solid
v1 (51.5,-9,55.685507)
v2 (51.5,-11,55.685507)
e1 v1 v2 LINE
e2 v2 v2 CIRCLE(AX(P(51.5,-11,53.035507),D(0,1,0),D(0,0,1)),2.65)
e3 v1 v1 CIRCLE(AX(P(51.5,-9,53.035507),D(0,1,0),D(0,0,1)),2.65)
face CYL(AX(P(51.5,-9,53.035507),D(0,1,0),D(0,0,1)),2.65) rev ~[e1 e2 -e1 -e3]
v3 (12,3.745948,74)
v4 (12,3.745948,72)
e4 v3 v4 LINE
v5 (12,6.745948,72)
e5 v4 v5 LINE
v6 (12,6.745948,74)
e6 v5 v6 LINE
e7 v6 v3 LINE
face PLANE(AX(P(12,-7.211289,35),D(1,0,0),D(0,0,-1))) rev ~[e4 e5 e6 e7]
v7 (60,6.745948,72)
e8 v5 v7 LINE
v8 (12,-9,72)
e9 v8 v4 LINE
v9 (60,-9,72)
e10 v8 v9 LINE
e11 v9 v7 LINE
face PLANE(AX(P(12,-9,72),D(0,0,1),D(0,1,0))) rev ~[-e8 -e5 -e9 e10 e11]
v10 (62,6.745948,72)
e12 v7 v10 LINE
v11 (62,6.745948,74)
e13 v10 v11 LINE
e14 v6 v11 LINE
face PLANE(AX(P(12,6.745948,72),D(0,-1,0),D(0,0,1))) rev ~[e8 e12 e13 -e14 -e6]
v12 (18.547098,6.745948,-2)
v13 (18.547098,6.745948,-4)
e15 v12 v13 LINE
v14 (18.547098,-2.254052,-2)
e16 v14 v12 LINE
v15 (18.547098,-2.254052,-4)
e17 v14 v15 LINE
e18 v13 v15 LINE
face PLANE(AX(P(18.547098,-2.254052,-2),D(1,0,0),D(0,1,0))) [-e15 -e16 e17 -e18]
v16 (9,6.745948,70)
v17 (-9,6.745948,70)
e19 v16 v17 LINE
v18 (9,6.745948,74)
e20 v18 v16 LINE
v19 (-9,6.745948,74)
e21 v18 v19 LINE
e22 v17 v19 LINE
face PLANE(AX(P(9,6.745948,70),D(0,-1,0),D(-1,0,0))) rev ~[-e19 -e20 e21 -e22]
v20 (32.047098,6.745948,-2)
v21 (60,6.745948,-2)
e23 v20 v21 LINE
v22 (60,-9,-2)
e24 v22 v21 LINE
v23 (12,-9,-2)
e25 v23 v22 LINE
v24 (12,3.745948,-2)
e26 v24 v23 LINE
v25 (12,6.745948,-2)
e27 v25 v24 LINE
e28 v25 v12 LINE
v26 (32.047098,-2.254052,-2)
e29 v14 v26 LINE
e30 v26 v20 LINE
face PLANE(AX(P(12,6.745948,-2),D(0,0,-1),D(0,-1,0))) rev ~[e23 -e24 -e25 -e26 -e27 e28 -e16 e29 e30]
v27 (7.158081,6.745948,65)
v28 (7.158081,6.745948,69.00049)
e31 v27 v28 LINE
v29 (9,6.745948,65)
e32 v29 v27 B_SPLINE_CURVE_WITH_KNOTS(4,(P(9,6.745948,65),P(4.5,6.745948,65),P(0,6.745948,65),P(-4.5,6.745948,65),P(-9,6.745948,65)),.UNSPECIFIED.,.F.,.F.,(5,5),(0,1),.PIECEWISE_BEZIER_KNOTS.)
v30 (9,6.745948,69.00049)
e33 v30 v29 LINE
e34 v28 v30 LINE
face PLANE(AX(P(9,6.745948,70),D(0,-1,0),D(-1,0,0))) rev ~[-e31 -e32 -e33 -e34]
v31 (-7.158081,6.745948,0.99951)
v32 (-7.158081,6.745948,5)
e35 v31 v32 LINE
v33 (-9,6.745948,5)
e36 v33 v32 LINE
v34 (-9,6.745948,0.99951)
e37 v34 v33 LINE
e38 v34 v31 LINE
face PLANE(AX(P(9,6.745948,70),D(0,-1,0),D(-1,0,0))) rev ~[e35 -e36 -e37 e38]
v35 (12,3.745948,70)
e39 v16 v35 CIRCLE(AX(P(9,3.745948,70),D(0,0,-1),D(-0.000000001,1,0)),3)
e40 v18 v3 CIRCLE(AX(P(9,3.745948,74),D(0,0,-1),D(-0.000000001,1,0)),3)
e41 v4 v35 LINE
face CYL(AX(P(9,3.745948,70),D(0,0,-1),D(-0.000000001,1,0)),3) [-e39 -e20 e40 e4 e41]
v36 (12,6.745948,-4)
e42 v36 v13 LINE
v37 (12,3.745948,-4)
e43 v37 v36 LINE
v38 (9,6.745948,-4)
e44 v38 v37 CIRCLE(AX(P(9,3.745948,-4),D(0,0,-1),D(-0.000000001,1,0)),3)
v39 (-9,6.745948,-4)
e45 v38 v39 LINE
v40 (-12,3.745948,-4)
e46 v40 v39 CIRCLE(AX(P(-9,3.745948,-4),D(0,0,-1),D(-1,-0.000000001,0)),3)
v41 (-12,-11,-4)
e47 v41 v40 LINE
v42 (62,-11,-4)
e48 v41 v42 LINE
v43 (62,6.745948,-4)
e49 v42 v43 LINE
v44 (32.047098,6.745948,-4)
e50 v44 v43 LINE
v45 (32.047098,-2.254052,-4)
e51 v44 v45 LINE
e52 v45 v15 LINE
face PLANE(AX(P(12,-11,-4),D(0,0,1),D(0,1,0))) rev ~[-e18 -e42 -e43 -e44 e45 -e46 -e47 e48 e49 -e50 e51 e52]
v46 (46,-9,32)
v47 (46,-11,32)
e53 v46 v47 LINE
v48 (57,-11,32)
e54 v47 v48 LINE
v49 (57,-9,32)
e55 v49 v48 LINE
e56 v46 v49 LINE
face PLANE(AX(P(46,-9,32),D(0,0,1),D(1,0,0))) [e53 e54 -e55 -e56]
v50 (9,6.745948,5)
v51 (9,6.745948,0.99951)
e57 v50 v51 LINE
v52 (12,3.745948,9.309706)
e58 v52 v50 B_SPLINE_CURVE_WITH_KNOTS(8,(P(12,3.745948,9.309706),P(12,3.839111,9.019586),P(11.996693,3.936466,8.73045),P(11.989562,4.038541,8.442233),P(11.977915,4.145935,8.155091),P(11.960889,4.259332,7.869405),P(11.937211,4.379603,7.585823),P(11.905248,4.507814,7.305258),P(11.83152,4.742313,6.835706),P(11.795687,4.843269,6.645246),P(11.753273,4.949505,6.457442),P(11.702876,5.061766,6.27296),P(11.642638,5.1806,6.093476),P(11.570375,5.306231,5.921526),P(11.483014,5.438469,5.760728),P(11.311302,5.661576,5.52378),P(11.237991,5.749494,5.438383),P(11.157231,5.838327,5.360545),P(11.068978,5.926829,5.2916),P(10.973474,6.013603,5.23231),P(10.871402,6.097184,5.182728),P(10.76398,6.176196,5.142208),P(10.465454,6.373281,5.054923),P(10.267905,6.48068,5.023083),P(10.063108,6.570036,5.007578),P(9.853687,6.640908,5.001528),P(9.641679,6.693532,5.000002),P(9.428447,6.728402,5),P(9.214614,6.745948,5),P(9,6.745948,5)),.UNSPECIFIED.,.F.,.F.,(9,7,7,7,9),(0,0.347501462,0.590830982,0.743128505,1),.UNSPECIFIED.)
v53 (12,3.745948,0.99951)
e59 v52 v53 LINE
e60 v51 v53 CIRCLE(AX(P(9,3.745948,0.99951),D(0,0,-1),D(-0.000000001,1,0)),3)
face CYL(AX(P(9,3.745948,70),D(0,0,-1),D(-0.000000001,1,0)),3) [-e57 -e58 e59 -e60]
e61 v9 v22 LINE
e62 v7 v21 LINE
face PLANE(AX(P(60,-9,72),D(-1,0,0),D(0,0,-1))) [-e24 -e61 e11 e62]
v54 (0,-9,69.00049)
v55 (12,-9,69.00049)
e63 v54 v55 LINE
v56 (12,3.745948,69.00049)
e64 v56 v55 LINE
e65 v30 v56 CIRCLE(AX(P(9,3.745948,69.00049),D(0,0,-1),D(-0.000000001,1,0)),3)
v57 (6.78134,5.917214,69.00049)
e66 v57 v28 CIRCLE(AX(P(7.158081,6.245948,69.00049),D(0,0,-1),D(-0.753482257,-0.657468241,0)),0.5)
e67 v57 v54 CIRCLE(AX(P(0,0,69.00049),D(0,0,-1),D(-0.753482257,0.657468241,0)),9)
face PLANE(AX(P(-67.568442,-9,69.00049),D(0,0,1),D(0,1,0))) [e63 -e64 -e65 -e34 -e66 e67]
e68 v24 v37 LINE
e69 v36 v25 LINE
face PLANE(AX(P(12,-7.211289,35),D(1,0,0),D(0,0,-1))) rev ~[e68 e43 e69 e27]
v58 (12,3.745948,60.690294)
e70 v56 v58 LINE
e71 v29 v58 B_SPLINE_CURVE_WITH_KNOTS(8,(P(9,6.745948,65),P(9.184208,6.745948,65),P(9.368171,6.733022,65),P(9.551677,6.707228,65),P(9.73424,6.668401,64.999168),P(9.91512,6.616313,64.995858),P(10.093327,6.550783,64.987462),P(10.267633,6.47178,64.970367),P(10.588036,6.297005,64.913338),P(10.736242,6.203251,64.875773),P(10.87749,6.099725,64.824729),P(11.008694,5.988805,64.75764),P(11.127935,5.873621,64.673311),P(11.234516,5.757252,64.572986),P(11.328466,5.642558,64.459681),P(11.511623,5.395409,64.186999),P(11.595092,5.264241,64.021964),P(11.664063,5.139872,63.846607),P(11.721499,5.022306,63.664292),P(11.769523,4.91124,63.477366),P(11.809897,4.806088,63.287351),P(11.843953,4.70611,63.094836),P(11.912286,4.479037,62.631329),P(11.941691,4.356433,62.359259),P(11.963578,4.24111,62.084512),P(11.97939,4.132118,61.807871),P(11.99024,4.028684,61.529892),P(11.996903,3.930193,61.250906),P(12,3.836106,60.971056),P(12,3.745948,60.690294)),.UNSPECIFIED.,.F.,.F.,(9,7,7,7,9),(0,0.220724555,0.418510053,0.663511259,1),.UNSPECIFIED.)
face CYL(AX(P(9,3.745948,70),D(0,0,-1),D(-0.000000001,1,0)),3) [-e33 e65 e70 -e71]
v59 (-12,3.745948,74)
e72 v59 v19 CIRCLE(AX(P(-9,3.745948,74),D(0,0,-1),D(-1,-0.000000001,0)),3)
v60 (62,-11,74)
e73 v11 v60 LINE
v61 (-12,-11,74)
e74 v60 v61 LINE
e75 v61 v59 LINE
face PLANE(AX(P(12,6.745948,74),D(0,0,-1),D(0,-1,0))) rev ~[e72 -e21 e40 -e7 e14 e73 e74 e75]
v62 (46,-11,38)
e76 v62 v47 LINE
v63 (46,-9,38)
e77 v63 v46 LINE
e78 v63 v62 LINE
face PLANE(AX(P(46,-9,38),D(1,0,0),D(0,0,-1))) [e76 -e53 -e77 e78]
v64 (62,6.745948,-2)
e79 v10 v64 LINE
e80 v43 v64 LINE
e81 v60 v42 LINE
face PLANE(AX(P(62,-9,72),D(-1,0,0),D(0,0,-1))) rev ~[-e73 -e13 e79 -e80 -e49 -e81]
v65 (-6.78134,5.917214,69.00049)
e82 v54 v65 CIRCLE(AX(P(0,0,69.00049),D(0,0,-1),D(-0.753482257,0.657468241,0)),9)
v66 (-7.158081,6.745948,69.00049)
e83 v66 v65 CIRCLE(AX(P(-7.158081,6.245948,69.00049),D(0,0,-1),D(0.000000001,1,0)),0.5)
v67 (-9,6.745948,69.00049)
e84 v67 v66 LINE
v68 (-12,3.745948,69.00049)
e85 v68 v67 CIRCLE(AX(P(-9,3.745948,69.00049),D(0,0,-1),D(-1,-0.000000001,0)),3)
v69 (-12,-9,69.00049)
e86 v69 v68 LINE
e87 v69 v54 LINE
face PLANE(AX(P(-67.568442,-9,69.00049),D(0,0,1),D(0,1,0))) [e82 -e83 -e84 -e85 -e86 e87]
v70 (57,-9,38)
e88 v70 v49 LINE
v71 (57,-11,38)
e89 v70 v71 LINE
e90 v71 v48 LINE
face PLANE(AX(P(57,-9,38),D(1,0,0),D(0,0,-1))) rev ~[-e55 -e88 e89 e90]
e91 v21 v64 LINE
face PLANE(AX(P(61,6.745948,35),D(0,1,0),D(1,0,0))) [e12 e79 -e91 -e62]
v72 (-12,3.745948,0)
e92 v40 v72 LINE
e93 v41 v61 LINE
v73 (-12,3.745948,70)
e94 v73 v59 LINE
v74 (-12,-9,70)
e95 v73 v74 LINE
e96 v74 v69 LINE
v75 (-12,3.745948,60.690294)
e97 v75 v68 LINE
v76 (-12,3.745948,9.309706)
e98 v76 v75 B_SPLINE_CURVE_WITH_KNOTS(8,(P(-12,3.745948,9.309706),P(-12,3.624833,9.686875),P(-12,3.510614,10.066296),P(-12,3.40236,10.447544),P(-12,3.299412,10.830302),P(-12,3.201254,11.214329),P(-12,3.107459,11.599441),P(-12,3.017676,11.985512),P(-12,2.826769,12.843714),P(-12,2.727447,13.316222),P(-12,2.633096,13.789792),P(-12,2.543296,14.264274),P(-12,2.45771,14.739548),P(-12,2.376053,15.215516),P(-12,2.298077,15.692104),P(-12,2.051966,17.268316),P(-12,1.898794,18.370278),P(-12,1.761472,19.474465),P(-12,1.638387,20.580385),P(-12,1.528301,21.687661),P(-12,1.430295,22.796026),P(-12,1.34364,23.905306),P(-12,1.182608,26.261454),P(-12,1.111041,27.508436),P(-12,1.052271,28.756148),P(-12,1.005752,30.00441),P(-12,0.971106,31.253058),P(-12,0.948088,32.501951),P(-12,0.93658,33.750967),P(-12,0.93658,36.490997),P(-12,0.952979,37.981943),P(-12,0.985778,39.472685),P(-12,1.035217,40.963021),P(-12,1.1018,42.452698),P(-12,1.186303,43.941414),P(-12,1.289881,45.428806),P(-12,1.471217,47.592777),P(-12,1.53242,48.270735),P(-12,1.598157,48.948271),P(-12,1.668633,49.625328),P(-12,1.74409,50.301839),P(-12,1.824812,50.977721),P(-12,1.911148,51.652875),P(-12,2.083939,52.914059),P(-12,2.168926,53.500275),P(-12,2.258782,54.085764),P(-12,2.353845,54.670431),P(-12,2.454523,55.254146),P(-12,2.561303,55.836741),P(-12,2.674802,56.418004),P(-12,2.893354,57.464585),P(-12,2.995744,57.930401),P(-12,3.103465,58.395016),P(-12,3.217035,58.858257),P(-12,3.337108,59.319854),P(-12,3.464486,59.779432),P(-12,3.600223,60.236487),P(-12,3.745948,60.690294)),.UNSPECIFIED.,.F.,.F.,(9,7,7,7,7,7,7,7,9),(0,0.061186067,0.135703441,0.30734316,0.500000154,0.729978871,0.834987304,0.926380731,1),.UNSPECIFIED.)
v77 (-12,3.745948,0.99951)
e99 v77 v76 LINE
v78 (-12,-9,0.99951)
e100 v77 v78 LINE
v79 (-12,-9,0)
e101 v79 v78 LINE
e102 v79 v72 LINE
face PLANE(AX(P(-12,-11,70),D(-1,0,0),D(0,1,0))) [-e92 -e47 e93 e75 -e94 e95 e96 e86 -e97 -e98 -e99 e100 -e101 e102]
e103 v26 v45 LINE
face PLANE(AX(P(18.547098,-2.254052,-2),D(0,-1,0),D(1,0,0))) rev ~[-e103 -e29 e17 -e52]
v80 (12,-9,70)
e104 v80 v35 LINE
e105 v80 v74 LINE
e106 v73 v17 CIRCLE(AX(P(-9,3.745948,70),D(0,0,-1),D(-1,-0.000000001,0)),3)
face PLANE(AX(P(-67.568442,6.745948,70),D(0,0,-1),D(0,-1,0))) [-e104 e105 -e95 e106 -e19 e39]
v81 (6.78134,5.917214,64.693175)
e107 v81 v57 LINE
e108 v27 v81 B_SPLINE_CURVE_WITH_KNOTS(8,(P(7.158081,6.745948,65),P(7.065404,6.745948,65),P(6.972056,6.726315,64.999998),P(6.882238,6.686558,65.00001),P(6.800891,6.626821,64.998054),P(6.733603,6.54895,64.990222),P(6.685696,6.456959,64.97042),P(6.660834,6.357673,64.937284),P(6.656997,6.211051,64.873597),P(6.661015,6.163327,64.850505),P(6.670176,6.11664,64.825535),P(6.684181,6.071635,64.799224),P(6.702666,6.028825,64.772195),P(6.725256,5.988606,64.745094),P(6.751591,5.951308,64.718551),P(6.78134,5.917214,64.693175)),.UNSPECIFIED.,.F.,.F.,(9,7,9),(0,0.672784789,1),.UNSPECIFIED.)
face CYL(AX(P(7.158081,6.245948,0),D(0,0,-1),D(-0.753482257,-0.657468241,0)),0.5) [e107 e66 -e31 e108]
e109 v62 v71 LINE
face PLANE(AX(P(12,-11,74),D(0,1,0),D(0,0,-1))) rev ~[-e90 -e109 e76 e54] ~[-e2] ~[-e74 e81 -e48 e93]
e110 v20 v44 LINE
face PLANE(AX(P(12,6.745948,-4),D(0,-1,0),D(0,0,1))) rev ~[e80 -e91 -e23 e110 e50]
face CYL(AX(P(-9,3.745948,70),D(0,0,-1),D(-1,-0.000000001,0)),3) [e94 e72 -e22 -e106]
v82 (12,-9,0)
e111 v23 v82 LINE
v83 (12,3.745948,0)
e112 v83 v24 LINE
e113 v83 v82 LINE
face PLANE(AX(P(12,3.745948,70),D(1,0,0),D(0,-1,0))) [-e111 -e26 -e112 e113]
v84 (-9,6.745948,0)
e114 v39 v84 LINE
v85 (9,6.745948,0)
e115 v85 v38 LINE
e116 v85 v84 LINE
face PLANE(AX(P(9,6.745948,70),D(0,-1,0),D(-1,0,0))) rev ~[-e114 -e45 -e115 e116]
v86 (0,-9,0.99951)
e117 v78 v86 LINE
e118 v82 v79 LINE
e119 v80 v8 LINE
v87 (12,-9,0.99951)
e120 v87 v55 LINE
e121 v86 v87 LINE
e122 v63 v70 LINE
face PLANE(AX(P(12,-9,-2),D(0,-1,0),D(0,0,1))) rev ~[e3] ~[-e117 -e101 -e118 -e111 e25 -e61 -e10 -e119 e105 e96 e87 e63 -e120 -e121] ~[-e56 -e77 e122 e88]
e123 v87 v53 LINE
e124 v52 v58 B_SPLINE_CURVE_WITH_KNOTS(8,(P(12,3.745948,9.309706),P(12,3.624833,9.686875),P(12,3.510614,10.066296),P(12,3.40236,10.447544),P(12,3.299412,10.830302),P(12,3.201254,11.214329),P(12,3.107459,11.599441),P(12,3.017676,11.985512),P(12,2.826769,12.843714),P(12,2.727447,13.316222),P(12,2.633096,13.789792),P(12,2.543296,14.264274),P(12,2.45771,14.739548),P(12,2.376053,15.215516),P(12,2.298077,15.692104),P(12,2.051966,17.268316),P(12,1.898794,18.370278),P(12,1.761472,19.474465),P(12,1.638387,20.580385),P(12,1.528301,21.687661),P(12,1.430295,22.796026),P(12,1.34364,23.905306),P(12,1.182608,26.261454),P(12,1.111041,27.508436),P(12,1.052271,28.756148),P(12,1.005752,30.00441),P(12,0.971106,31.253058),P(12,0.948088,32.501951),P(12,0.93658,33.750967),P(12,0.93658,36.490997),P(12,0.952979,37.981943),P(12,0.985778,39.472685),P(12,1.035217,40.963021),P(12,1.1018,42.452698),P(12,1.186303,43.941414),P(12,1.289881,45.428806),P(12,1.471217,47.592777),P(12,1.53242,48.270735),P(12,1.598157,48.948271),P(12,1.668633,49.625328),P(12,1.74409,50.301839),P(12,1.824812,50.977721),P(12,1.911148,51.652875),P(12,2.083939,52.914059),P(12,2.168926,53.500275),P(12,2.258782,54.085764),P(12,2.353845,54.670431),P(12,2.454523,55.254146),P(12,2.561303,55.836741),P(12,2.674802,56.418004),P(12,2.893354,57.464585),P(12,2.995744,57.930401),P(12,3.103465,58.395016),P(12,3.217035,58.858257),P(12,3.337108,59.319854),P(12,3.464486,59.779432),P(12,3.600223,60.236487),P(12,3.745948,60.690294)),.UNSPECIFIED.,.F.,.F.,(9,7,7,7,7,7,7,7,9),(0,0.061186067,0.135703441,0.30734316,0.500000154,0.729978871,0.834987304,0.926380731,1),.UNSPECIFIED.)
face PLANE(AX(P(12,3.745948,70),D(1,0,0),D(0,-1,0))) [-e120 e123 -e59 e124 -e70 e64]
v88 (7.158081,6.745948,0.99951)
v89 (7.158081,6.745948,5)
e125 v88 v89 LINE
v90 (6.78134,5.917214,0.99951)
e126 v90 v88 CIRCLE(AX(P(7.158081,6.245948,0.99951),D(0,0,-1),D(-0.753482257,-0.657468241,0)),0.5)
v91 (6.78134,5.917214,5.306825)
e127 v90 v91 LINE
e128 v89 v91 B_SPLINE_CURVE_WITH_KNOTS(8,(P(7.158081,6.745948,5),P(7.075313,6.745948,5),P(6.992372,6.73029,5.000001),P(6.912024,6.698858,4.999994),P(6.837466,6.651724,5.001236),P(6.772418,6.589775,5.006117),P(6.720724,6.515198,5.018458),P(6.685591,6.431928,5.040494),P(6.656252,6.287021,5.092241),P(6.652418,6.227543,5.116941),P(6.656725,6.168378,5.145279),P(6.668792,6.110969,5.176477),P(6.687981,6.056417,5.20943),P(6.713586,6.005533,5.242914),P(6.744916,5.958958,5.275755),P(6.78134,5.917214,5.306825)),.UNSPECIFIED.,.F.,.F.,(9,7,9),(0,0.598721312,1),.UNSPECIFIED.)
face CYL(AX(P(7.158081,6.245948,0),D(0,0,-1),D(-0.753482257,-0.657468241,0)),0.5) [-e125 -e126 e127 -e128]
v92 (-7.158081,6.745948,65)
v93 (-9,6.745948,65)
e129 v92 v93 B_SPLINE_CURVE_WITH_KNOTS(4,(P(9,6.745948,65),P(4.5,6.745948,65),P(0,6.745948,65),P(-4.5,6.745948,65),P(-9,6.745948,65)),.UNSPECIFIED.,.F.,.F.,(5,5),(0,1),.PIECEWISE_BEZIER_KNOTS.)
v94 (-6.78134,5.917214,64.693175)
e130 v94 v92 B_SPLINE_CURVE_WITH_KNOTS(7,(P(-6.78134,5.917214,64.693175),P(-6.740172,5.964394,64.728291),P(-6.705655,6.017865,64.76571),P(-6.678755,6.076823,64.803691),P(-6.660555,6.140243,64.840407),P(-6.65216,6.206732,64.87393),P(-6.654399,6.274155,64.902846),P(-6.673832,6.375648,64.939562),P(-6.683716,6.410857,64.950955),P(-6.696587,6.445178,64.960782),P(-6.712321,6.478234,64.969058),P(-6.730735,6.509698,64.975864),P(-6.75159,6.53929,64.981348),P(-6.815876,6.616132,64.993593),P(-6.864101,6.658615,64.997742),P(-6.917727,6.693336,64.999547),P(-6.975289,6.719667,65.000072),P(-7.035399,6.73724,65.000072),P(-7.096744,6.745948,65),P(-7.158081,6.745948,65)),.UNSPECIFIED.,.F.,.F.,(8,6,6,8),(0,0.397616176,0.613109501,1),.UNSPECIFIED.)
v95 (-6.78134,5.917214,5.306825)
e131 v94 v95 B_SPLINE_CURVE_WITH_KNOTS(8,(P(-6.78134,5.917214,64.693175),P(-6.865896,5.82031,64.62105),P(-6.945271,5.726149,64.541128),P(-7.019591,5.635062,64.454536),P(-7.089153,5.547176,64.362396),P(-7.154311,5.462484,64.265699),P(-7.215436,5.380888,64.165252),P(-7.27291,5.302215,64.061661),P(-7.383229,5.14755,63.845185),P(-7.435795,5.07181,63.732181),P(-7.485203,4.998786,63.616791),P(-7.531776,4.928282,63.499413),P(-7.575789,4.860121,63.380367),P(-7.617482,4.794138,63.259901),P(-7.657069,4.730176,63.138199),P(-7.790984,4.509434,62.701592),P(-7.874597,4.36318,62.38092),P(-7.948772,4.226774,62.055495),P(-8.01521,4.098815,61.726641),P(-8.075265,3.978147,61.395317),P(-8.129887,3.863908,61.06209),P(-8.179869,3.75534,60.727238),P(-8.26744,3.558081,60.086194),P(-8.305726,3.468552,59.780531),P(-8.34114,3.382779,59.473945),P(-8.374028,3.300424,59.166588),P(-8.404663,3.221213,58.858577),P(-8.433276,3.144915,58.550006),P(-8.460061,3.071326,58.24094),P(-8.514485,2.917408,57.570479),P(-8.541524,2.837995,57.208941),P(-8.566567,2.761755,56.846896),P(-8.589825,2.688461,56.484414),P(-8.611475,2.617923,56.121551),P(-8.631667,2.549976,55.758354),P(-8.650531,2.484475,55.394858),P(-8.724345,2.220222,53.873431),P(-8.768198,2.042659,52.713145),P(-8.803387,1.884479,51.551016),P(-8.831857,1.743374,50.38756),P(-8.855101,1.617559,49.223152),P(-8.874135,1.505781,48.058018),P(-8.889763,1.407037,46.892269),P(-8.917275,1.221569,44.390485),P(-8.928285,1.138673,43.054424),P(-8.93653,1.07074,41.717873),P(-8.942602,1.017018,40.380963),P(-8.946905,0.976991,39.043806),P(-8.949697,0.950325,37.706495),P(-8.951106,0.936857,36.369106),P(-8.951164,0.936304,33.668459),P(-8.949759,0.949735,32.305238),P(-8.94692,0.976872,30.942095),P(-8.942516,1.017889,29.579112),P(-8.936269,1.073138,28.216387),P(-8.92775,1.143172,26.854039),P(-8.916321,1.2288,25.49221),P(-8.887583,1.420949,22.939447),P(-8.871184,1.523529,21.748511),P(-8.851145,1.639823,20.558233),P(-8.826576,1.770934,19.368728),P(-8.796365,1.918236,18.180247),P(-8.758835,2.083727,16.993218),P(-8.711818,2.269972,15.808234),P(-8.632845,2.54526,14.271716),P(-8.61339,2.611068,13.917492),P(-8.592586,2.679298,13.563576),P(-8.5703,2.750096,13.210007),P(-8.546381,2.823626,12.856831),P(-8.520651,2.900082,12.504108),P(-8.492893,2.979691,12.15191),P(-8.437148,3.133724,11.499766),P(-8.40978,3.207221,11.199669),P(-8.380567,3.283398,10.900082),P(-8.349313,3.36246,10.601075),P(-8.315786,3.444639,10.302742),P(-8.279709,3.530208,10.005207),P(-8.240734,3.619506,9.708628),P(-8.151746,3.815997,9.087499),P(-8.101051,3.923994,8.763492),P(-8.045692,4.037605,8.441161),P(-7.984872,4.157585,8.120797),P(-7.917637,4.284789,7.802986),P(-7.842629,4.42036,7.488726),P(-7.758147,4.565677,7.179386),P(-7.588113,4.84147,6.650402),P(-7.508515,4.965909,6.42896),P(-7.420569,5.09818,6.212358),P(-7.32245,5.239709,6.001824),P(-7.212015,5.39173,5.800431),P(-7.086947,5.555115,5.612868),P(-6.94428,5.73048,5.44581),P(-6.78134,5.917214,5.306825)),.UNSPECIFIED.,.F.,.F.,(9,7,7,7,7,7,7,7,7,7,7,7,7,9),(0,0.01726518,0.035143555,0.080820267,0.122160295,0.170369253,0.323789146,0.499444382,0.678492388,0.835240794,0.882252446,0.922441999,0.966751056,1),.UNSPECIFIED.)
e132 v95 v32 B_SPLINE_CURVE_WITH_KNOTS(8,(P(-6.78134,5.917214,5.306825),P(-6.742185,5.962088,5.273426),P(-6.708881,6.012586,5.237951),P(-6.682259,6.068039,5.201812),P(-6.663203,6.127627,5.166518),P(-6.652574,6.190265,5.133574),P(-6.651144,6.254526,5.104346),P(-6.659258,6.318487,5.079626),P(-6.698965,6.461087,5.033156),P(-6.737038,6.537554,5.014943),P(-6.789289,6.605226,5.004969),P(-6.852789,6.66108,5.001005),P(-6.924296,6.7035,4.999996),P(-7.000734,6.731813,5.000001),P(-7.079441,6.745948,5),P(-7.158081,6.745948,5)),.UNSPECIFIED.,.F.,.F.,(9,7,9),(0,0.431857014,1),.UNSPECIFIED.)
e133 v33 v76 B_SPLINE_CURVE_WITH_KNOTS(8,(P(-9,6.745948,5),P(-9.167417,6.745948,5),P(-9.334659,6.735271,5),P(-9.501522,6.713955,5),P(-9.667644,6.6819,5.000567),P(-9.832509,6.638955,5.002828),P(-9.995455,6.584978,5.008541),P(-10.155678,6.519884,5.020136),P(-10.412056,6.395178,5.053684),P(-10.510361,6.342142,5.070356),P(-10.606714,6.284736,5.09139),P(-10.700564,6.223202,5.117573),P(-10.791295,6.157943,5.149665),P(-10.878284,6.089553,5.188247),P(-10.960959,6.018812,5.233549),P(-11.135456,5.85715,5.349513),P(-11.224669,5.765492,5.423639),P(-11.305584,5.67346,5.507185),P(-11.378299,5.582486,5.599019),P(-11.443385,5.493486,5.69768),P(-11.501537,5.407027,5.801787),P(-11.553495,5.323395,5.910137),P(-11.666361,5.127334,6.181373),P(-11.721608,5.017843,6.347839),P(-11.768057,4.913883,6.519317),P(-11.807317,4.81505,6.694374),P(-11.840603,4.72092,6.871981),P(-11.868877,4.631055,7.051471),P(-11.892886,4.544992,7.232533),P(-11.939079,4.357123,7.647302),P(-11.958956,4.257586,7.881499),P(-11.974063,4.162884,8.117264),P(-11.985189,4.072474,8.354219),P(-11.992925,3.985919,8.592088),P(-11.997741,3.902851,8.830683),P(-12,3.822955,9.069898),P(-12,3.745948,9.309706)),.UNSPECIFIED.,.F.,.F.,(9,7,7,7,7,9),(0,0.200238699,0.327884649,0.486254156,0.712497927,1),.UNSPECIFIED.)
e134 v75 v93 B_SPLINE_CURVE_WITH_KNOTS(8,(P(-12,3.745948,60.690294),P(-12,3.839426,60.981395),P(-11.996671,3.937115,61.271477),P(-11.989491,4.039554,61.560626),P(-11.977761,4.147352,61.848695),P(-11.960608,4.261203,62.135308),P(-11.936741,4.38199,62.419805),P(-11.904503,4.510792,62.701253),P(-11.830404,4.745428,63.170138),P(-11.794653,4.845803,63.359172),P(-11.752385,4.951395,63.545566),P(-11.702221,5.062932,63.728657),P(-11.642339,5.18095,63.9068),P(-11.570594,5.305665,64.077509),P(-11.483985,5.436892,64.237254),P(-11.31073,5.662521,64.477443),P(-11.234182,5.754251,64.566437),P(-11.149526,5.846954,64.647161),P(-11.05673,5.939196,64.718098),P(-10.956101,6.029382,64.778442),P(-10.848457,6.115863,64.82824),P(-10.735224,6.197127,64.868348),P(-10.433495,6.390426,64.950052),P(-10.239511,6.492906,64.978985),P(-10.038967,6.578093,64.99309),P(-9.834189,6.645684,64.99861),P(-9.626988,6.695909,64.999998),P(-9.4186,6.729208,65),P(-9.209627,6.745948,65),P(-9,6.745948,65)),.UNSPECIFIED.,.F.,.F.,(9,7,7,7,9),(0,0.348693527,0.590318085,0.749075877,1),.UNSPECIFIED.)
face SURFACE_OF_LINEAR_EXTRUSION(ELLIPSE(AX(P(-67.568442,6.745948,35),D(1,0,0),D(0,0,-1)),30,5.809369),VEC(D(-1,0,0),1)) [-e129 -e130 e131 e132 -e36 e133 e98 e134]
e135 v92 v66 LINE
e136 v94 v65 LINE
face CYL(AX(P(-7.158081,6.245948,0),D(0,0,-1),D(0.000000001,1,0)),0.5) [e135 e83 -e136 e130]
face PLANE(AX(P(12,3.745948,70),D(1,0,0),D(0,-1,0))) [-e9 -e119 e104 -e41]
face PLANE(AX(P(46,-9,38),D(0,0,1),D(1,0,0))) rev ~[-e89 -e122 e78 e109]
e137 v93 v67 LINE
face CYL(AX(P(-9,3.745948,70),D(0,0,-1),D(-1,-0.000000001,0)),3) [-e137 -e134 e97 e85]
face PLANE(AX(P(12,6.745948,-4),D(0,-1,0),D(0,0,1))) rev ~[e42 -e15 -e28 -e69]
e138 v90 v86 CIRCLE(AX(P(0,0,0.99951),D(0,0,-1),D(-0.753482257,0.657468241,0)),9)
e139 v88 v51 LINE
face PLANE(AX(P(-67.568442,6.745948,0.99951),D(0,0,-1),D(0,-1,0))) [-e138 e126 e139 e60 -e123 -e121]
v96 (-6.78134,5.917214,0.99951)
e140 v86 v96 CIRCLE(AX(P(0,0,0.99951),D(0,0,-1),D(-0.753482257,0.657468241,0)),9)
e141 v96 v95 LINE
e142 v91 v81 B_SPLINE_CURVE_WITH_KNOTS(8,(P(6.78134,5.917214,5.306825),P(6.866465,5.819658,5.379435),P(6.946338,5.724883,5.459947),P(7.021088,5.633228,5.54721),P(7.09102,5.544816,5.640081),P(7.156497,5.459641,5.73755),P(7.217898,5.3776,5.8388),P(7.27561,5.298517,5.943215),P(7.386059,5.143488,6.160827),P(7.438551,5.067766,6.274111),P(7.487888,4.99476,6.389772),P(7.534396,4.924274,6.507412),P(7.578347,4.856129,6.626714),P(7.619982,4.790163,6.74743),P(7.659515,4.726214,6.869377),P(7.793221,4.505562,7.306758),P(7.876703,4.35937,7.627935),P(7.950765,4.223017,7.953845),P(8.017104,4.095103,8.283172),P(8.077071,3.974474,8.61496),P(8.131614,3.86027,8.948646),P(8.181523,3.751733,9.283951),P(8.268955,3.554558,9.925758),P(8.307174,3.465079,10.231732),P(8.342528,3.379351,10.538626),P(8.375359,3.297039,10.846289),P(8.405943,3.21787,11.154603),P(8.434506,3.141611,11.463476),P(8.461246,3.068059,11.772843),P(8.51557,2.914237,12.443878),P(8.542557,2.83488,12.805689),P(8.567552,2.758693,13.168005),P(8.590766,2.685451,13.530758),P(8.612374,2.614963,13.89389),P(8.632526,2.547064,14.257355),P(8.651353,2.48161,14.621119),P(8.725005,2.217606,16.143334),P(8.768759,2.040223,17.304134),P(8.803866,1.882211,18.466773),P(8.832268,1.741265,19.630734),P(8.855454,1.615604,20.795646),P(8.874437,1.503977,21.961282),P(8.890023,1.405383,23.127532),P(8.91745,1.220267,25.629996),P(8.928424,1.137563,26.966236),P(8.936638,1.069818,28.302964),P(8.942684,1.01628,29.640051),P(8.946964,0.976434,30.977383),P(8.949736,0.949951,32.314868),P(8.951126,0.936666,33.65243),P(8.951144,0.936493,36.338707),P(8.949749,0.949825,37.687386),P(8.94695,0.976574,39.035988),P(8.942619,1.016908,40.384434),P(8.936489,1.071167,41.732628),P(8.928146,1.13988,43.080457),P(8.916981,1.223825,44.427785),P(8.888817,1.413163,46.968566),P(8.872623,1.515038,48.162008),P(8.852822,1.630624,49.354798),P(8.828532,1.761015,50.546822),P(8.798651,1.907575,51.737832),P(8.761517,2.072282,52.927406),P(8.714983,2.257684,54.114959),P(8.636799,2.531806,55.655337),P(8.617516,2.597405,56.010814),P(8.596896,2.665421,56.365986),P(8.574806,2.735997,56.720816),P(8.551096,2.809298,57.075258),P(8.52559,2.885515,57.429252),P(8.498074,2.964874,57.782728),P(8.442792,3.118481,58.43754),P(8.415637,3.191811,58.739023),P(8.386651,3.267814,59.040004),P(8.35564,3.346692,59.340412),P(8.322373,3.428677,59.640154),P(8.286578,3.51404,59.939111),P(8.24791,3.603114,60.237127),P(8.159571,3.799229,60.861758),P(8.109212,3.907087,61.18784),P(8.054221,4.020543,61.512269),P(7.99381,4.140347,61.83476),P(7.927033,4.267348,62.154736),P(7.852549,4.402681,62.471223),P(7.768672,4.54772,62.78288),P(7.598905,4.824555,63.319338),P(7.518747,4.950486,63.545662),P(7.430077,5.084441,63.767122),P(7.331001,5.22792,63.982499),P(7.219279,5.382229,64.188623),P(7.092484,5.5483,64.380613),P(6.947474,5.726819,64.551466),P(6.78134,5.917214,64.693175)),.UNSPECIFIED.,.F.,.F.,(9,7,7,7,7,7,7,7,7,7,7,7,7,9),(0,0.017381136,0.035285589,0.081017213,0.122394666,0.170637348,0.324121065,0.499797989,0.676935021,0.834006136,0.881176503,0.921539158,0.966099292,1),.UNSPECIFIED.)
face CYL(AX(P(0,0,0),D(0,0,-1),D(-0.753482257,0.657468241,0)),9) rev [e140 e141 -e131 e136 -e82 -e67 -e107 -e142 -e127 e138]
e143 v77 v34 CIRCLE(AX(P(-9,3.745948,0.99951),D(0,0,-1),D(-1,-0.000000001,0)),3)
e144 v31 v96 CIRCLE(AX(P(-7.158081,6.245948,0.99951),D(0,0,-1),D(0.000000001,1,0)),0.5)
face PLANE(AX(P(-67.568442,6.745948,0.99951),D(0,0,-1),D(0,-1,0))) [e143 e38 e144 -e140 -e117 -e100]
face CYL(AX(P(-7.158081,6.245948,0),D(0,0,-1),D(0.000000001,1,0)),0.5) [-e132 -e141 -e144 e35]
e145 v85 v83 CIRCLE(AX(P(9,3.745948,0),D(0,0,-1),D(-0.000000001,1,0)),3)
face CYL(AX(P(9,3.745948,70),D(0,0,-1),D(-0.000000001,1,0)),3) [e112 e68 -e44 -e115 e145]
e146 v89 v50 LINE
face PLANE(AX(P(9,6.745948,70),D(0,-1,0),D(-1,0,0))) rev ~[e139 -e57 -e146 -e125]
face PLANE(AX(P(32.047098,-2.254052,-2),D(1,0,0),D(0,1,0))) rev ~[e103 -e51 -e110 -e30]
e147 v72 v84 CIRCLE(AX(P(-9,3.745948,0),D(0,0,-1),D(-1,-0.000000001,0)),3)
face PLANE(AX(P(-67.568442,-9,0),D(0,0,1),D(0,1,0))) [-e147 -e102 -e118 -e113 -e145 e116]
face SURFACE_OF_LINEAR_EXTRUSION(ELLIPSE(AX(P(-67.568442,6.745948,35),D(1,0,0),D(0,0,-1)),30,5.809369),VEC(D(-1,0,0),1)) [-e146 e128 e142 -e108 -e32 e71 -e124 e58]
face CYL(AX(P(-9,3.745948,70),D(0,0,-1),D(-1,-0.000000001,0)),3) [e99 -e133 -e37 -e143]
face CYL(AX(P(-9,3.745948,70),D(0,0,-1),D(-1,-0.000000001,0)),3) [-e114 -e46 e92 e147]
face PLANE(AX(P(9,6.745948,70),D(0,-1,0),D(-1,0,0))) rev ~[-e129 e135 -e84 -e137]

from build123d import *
from build123d.topology import SkipClean

# Parameters (mm, degrees)
SALIENTE_EXTRUIR2_DEPTH    = 70
SALIENTE_EXTRUIR4_START    = -4
SALIENTE_EXTRUIR4_DEPTH    = 4
SALIENTE_EXTRUIR5_START    = 70
SALIENTE_EXTRUIR5_DEPTH    = 4
CORTAR_EXTRUIR1_DEPTH      = 15
CORTAR_EXTRUIR1_DEPTH_BACK = 79.568441502
CROQUIS5_RX                = 30
CROQUIS5_RY                = 5.809368516
SALIENTE_EXTRUIR6_DEPTH    = 50
CROQUIS7_W                 = 2
CROQUIS7_H                 = 74
SALIENTE_EXTRUIR7_DEPTH    = 15.745948
CROQUIS9_R                 = 2.65
CROQUIS9_W                 = 11
CROQUIS9_H                 = 6
CORTAR_EXTRUIR2_DEPTH      = 10
CORTAR_EXTRUIR3_REACH      = 100.697
CROQUIS10_W                = 13.5
CROQUIS10_H                = 9


with BuildPart() as part:
    # Croquis1 → Saliente-Extruir2 (new body)
    with BuildSketch(Plane.XY):
        with BuildLine():
            Line((-9, 6.745948294), (-7.15808144, 6.745948294))
            ThreePointArc((-7.15808144, 6.745948294), (-6.702907265, 6.452869704), (-6.781340312, 5.917214173))
            ThreePointArc((-6.781340312, 5.917214173), (0, -9), (6.781340312, 5.917214173))
            ThreePointArc((6.781340312, 5.917214173), (6.702907265, 6.452869704), (7.15808144, 6.745948294))
            Line((7.15808144, 6.745948294), (9, 6.745948294))
            ThreePointArc((9, 6.745948294), (11.121320344, 5.867268638), (12, 3.745948294))
            Line((12, 3.745948294), (12, -11))
            Line((12, -11), (-12, -11))
            Line((-12, -11), (-12, 3.745948294))
            ThreePointArc((-12, 3.745948294), (-11.121320344, 5.867268638), (-9, 6.745948294))
        make_face()
    extrude(amount=SALIENTE_EXTRUIR2_DEPTH)

    # Croquis1<6> → Saliente-Extruir4 (add)
    with BuildSketch(Plane.XY.offset(SALIENTE_EXTRUIR4_START)):
        with BuildLine():
            Line((7.15808144, 6.745948294), (9, 6.745948294))
            ThreePointArc((9, 6.745948294), (11.121320344, 5.867268638), (12, 3.745948294))
            Line((12, 3.745948294), (12, -11))
            Line((12, -11), (-12, -11))
            Line((-12, -11), (-12, 3.745948294))
            ThreePointArc((-12, 3.745948294), (-11.121320344, 5.867268638), (-9, 6.745948294))
            Line((-9, 6.745948294), (-7.15808144, 6.745948294))
            ThreePointArc((-7.15808144, 6.745948294), (-6.702907265, 6.452869704), (-6.781340312, 5.917214173))
            ThreePointArc((-6.781340312, 5.917214173), (0, -9), (6.781340312, 5.917214173))
            ThreePointArc((6.781340312, 5.917214173), (6.702907265, 6.452869704), (7.15808144, 6.745948294))
        make_face()
        with BuildLine():
            Line((7.15808144, 6.745948294), (-7.15808144, 6.745948294))
            ThreePointArc((-7.15808144, 6.745948294), (-6.702907265, 6.452869704), (-6.781340312, 5.917214173))
            ThreePointArc((-6.781340312, 5.917214173), (0, -9), (6.781340312, 5.917214173))
            ThreePointArc((6.781340312, 5.917214173), (6.702907265, 6.452869704), (7.15808144, 6.745948294))
        make_face()
    extrude(amount=SALIENTE_EXTRUIR4_DEPTH)

    # Croquis1<9> → Saliente-Extruir5 (add)
    with BuildSketch(Plane.XY.offset(SALIENTE_EXTRUIR5_START)):
        with BuildLine():
            Line((7.15808144, 6.745948294), (9, 6.745948294))
            ThreePointArc((9, 6.745948294), (11.121320344, 5.867268638), (12, 3.745948294))
            Line((12, 3.745948294), (12, -11))
            Line((12, -11), (-12, -11))
            Line((-12, -11), (-12, 3.745948294))
            ThreePointArc((-12, 3.745948294), (-11.121320344, 5.867268638), (-9, 6.745948294))
            Line((-9, 6.745948294), (-7.15808144, 6.745948294))
            ThreePointArc((-7.15808144, 6.745948294), (-6.702907265, 6.452869704), (-6.781340312, 5.917214173))
            ThreePointArc((-6.781340312, 5.917214173), (0, -9), (6.781340312, 5.917214173))
            ThreePointArc((6.781340312, 5.917214173), (6.702907265, 6.452869704), (7.15808144, 6.745948294))
        make_face()
        with BuildLine():
            Line((7.15808144, 6.745948294), (-7.15808144, 6.745948294))
            ThreePointArc((-7.15808144, 6.745948294), (-6.702907265, 6.452869704), (-6.781340312, 5.917214173))
            ThreePointArc((-6.781340312, 5.917214173), (0, -9), (6.781340312, 5.917214173))
            ThreePointArc((6.781340312, 5.917214173), (6.702907265, 6.452869704), (7.15808144, 6.745948294))
        make_face()
    extrude(amount=SALIENTE_EXTRUIR5_DEPTH)

    # Croquis5 → Cortar-Extruir1 (cut, two sides: drawn at the far end of the back side and taken through both)
    with BuildSketch(Plane(origin=(12, 0, 0), x_dir=(0, 0, -1), z_dir=(1, 0, 0)).offset(-CORTAR_EXTRUIR1_DEPTH_BACK)):
        with Locations(Location((-35, 6.745948294), (0, 0, 0))):
            Ellipse(CROQUIS5_RX, CROQUIS5_RY)
        Polygon((0, 5.917214173), (0, -9), (-0.999510264, -9), (-0.999510264, 5.948506852), (-0.999510264, 6.745948294), (0, 6.745948294), align=None)
        Polygon((-70, 5.917214173), (-70, -9), (-69.000489736, -9), (-69.000489736, 5.948506852), (-69.000489736, 6.745948294), (-70, 6.745948294), align=None)
    extrude(amount=CORTAR_EXTRUIR1_DEPTH + CORTAR_EXTRUIR1_DEPTH_BACK, mode=Mode.SUBTRACT)

    # Croquis6 → Saliente-Extruir6 (add)
    with BuildSketch(Plane(origin=(12, 0, 0), x_dir=(0, 0, -1), z_dir=(1, 0, 0))):
        Polygon((-74, -11), (4, -11), (4, -9), (4, 6.745948294), (2, 6.745948294), (2, -9), (-72, -9), (-72, 6.745948294), (-74, 6.745948294), (-74, -9), align=None)
    extrude(amount=SALIENTE_EXTRUIR6_DEPTH)

    # Croquis7 → Saliente-Extruir7 (add)
    with SkipClean():  # the faces are left unmerged after this step: merging them gives an invalid solid
        with BuildSketch(Plane(origin=(0, -9, 0), x_dir=(1, 0, 0), z_dir=(0, 1, 0))):
            with Locations((61, -35)):
                Rectangle(CROQUIS7_W, CROQUIS7_H)
        extrude(amount=SALIENTE_EXTRUIR7_DEPTH)

    # Croquis9 → Cortar-Extruir2 (cut)
    with SkipClean():  # the faces are left unmerged after this step: merging them gives an invalid solid
        with BuildSketch(Plane(origin=(0, -9, 0), x_dir=(1, 0, 0), z_dir=(0, 1, 0))):
            with Locations(Location((51.5, -53.035506603, 0), (0, 0, 270))):
                Circle(CROQUIS9_R)
            with Locations((51.5, -35)):
                Rectangle(CROQUIS9_W, CROQUIS9_H)
        extrude(amount=-CORTAR_EXTRUIR2_DEPTH, mode=Mode.SUBTRACT)

    # Croquis10 → Cortar-Extruir3 (cut, up to next)
    with BuildSketch(Plane.XY.offset(-2), mode=Mode.PRIVATE) as cortar_extruir3_sk1:
        with Locations((25.297097726, 2.245948294)):
            Rectangle(CROQUIS10_W, CROQUIS10_H)
    cortar_extruir3_tool1 = extrude(cortar_extruir3_sk1.sketch, amount=-CORTAR_EXTRUIR3_REACH, mode=Mode.PRIVATE) & part.part
    add(cortar_extruir3_tool1.solids().sort_by_distance((25.297098, 2.245948, -2))[0], mode=Mode.SUBTRACT)


solid = part.part
